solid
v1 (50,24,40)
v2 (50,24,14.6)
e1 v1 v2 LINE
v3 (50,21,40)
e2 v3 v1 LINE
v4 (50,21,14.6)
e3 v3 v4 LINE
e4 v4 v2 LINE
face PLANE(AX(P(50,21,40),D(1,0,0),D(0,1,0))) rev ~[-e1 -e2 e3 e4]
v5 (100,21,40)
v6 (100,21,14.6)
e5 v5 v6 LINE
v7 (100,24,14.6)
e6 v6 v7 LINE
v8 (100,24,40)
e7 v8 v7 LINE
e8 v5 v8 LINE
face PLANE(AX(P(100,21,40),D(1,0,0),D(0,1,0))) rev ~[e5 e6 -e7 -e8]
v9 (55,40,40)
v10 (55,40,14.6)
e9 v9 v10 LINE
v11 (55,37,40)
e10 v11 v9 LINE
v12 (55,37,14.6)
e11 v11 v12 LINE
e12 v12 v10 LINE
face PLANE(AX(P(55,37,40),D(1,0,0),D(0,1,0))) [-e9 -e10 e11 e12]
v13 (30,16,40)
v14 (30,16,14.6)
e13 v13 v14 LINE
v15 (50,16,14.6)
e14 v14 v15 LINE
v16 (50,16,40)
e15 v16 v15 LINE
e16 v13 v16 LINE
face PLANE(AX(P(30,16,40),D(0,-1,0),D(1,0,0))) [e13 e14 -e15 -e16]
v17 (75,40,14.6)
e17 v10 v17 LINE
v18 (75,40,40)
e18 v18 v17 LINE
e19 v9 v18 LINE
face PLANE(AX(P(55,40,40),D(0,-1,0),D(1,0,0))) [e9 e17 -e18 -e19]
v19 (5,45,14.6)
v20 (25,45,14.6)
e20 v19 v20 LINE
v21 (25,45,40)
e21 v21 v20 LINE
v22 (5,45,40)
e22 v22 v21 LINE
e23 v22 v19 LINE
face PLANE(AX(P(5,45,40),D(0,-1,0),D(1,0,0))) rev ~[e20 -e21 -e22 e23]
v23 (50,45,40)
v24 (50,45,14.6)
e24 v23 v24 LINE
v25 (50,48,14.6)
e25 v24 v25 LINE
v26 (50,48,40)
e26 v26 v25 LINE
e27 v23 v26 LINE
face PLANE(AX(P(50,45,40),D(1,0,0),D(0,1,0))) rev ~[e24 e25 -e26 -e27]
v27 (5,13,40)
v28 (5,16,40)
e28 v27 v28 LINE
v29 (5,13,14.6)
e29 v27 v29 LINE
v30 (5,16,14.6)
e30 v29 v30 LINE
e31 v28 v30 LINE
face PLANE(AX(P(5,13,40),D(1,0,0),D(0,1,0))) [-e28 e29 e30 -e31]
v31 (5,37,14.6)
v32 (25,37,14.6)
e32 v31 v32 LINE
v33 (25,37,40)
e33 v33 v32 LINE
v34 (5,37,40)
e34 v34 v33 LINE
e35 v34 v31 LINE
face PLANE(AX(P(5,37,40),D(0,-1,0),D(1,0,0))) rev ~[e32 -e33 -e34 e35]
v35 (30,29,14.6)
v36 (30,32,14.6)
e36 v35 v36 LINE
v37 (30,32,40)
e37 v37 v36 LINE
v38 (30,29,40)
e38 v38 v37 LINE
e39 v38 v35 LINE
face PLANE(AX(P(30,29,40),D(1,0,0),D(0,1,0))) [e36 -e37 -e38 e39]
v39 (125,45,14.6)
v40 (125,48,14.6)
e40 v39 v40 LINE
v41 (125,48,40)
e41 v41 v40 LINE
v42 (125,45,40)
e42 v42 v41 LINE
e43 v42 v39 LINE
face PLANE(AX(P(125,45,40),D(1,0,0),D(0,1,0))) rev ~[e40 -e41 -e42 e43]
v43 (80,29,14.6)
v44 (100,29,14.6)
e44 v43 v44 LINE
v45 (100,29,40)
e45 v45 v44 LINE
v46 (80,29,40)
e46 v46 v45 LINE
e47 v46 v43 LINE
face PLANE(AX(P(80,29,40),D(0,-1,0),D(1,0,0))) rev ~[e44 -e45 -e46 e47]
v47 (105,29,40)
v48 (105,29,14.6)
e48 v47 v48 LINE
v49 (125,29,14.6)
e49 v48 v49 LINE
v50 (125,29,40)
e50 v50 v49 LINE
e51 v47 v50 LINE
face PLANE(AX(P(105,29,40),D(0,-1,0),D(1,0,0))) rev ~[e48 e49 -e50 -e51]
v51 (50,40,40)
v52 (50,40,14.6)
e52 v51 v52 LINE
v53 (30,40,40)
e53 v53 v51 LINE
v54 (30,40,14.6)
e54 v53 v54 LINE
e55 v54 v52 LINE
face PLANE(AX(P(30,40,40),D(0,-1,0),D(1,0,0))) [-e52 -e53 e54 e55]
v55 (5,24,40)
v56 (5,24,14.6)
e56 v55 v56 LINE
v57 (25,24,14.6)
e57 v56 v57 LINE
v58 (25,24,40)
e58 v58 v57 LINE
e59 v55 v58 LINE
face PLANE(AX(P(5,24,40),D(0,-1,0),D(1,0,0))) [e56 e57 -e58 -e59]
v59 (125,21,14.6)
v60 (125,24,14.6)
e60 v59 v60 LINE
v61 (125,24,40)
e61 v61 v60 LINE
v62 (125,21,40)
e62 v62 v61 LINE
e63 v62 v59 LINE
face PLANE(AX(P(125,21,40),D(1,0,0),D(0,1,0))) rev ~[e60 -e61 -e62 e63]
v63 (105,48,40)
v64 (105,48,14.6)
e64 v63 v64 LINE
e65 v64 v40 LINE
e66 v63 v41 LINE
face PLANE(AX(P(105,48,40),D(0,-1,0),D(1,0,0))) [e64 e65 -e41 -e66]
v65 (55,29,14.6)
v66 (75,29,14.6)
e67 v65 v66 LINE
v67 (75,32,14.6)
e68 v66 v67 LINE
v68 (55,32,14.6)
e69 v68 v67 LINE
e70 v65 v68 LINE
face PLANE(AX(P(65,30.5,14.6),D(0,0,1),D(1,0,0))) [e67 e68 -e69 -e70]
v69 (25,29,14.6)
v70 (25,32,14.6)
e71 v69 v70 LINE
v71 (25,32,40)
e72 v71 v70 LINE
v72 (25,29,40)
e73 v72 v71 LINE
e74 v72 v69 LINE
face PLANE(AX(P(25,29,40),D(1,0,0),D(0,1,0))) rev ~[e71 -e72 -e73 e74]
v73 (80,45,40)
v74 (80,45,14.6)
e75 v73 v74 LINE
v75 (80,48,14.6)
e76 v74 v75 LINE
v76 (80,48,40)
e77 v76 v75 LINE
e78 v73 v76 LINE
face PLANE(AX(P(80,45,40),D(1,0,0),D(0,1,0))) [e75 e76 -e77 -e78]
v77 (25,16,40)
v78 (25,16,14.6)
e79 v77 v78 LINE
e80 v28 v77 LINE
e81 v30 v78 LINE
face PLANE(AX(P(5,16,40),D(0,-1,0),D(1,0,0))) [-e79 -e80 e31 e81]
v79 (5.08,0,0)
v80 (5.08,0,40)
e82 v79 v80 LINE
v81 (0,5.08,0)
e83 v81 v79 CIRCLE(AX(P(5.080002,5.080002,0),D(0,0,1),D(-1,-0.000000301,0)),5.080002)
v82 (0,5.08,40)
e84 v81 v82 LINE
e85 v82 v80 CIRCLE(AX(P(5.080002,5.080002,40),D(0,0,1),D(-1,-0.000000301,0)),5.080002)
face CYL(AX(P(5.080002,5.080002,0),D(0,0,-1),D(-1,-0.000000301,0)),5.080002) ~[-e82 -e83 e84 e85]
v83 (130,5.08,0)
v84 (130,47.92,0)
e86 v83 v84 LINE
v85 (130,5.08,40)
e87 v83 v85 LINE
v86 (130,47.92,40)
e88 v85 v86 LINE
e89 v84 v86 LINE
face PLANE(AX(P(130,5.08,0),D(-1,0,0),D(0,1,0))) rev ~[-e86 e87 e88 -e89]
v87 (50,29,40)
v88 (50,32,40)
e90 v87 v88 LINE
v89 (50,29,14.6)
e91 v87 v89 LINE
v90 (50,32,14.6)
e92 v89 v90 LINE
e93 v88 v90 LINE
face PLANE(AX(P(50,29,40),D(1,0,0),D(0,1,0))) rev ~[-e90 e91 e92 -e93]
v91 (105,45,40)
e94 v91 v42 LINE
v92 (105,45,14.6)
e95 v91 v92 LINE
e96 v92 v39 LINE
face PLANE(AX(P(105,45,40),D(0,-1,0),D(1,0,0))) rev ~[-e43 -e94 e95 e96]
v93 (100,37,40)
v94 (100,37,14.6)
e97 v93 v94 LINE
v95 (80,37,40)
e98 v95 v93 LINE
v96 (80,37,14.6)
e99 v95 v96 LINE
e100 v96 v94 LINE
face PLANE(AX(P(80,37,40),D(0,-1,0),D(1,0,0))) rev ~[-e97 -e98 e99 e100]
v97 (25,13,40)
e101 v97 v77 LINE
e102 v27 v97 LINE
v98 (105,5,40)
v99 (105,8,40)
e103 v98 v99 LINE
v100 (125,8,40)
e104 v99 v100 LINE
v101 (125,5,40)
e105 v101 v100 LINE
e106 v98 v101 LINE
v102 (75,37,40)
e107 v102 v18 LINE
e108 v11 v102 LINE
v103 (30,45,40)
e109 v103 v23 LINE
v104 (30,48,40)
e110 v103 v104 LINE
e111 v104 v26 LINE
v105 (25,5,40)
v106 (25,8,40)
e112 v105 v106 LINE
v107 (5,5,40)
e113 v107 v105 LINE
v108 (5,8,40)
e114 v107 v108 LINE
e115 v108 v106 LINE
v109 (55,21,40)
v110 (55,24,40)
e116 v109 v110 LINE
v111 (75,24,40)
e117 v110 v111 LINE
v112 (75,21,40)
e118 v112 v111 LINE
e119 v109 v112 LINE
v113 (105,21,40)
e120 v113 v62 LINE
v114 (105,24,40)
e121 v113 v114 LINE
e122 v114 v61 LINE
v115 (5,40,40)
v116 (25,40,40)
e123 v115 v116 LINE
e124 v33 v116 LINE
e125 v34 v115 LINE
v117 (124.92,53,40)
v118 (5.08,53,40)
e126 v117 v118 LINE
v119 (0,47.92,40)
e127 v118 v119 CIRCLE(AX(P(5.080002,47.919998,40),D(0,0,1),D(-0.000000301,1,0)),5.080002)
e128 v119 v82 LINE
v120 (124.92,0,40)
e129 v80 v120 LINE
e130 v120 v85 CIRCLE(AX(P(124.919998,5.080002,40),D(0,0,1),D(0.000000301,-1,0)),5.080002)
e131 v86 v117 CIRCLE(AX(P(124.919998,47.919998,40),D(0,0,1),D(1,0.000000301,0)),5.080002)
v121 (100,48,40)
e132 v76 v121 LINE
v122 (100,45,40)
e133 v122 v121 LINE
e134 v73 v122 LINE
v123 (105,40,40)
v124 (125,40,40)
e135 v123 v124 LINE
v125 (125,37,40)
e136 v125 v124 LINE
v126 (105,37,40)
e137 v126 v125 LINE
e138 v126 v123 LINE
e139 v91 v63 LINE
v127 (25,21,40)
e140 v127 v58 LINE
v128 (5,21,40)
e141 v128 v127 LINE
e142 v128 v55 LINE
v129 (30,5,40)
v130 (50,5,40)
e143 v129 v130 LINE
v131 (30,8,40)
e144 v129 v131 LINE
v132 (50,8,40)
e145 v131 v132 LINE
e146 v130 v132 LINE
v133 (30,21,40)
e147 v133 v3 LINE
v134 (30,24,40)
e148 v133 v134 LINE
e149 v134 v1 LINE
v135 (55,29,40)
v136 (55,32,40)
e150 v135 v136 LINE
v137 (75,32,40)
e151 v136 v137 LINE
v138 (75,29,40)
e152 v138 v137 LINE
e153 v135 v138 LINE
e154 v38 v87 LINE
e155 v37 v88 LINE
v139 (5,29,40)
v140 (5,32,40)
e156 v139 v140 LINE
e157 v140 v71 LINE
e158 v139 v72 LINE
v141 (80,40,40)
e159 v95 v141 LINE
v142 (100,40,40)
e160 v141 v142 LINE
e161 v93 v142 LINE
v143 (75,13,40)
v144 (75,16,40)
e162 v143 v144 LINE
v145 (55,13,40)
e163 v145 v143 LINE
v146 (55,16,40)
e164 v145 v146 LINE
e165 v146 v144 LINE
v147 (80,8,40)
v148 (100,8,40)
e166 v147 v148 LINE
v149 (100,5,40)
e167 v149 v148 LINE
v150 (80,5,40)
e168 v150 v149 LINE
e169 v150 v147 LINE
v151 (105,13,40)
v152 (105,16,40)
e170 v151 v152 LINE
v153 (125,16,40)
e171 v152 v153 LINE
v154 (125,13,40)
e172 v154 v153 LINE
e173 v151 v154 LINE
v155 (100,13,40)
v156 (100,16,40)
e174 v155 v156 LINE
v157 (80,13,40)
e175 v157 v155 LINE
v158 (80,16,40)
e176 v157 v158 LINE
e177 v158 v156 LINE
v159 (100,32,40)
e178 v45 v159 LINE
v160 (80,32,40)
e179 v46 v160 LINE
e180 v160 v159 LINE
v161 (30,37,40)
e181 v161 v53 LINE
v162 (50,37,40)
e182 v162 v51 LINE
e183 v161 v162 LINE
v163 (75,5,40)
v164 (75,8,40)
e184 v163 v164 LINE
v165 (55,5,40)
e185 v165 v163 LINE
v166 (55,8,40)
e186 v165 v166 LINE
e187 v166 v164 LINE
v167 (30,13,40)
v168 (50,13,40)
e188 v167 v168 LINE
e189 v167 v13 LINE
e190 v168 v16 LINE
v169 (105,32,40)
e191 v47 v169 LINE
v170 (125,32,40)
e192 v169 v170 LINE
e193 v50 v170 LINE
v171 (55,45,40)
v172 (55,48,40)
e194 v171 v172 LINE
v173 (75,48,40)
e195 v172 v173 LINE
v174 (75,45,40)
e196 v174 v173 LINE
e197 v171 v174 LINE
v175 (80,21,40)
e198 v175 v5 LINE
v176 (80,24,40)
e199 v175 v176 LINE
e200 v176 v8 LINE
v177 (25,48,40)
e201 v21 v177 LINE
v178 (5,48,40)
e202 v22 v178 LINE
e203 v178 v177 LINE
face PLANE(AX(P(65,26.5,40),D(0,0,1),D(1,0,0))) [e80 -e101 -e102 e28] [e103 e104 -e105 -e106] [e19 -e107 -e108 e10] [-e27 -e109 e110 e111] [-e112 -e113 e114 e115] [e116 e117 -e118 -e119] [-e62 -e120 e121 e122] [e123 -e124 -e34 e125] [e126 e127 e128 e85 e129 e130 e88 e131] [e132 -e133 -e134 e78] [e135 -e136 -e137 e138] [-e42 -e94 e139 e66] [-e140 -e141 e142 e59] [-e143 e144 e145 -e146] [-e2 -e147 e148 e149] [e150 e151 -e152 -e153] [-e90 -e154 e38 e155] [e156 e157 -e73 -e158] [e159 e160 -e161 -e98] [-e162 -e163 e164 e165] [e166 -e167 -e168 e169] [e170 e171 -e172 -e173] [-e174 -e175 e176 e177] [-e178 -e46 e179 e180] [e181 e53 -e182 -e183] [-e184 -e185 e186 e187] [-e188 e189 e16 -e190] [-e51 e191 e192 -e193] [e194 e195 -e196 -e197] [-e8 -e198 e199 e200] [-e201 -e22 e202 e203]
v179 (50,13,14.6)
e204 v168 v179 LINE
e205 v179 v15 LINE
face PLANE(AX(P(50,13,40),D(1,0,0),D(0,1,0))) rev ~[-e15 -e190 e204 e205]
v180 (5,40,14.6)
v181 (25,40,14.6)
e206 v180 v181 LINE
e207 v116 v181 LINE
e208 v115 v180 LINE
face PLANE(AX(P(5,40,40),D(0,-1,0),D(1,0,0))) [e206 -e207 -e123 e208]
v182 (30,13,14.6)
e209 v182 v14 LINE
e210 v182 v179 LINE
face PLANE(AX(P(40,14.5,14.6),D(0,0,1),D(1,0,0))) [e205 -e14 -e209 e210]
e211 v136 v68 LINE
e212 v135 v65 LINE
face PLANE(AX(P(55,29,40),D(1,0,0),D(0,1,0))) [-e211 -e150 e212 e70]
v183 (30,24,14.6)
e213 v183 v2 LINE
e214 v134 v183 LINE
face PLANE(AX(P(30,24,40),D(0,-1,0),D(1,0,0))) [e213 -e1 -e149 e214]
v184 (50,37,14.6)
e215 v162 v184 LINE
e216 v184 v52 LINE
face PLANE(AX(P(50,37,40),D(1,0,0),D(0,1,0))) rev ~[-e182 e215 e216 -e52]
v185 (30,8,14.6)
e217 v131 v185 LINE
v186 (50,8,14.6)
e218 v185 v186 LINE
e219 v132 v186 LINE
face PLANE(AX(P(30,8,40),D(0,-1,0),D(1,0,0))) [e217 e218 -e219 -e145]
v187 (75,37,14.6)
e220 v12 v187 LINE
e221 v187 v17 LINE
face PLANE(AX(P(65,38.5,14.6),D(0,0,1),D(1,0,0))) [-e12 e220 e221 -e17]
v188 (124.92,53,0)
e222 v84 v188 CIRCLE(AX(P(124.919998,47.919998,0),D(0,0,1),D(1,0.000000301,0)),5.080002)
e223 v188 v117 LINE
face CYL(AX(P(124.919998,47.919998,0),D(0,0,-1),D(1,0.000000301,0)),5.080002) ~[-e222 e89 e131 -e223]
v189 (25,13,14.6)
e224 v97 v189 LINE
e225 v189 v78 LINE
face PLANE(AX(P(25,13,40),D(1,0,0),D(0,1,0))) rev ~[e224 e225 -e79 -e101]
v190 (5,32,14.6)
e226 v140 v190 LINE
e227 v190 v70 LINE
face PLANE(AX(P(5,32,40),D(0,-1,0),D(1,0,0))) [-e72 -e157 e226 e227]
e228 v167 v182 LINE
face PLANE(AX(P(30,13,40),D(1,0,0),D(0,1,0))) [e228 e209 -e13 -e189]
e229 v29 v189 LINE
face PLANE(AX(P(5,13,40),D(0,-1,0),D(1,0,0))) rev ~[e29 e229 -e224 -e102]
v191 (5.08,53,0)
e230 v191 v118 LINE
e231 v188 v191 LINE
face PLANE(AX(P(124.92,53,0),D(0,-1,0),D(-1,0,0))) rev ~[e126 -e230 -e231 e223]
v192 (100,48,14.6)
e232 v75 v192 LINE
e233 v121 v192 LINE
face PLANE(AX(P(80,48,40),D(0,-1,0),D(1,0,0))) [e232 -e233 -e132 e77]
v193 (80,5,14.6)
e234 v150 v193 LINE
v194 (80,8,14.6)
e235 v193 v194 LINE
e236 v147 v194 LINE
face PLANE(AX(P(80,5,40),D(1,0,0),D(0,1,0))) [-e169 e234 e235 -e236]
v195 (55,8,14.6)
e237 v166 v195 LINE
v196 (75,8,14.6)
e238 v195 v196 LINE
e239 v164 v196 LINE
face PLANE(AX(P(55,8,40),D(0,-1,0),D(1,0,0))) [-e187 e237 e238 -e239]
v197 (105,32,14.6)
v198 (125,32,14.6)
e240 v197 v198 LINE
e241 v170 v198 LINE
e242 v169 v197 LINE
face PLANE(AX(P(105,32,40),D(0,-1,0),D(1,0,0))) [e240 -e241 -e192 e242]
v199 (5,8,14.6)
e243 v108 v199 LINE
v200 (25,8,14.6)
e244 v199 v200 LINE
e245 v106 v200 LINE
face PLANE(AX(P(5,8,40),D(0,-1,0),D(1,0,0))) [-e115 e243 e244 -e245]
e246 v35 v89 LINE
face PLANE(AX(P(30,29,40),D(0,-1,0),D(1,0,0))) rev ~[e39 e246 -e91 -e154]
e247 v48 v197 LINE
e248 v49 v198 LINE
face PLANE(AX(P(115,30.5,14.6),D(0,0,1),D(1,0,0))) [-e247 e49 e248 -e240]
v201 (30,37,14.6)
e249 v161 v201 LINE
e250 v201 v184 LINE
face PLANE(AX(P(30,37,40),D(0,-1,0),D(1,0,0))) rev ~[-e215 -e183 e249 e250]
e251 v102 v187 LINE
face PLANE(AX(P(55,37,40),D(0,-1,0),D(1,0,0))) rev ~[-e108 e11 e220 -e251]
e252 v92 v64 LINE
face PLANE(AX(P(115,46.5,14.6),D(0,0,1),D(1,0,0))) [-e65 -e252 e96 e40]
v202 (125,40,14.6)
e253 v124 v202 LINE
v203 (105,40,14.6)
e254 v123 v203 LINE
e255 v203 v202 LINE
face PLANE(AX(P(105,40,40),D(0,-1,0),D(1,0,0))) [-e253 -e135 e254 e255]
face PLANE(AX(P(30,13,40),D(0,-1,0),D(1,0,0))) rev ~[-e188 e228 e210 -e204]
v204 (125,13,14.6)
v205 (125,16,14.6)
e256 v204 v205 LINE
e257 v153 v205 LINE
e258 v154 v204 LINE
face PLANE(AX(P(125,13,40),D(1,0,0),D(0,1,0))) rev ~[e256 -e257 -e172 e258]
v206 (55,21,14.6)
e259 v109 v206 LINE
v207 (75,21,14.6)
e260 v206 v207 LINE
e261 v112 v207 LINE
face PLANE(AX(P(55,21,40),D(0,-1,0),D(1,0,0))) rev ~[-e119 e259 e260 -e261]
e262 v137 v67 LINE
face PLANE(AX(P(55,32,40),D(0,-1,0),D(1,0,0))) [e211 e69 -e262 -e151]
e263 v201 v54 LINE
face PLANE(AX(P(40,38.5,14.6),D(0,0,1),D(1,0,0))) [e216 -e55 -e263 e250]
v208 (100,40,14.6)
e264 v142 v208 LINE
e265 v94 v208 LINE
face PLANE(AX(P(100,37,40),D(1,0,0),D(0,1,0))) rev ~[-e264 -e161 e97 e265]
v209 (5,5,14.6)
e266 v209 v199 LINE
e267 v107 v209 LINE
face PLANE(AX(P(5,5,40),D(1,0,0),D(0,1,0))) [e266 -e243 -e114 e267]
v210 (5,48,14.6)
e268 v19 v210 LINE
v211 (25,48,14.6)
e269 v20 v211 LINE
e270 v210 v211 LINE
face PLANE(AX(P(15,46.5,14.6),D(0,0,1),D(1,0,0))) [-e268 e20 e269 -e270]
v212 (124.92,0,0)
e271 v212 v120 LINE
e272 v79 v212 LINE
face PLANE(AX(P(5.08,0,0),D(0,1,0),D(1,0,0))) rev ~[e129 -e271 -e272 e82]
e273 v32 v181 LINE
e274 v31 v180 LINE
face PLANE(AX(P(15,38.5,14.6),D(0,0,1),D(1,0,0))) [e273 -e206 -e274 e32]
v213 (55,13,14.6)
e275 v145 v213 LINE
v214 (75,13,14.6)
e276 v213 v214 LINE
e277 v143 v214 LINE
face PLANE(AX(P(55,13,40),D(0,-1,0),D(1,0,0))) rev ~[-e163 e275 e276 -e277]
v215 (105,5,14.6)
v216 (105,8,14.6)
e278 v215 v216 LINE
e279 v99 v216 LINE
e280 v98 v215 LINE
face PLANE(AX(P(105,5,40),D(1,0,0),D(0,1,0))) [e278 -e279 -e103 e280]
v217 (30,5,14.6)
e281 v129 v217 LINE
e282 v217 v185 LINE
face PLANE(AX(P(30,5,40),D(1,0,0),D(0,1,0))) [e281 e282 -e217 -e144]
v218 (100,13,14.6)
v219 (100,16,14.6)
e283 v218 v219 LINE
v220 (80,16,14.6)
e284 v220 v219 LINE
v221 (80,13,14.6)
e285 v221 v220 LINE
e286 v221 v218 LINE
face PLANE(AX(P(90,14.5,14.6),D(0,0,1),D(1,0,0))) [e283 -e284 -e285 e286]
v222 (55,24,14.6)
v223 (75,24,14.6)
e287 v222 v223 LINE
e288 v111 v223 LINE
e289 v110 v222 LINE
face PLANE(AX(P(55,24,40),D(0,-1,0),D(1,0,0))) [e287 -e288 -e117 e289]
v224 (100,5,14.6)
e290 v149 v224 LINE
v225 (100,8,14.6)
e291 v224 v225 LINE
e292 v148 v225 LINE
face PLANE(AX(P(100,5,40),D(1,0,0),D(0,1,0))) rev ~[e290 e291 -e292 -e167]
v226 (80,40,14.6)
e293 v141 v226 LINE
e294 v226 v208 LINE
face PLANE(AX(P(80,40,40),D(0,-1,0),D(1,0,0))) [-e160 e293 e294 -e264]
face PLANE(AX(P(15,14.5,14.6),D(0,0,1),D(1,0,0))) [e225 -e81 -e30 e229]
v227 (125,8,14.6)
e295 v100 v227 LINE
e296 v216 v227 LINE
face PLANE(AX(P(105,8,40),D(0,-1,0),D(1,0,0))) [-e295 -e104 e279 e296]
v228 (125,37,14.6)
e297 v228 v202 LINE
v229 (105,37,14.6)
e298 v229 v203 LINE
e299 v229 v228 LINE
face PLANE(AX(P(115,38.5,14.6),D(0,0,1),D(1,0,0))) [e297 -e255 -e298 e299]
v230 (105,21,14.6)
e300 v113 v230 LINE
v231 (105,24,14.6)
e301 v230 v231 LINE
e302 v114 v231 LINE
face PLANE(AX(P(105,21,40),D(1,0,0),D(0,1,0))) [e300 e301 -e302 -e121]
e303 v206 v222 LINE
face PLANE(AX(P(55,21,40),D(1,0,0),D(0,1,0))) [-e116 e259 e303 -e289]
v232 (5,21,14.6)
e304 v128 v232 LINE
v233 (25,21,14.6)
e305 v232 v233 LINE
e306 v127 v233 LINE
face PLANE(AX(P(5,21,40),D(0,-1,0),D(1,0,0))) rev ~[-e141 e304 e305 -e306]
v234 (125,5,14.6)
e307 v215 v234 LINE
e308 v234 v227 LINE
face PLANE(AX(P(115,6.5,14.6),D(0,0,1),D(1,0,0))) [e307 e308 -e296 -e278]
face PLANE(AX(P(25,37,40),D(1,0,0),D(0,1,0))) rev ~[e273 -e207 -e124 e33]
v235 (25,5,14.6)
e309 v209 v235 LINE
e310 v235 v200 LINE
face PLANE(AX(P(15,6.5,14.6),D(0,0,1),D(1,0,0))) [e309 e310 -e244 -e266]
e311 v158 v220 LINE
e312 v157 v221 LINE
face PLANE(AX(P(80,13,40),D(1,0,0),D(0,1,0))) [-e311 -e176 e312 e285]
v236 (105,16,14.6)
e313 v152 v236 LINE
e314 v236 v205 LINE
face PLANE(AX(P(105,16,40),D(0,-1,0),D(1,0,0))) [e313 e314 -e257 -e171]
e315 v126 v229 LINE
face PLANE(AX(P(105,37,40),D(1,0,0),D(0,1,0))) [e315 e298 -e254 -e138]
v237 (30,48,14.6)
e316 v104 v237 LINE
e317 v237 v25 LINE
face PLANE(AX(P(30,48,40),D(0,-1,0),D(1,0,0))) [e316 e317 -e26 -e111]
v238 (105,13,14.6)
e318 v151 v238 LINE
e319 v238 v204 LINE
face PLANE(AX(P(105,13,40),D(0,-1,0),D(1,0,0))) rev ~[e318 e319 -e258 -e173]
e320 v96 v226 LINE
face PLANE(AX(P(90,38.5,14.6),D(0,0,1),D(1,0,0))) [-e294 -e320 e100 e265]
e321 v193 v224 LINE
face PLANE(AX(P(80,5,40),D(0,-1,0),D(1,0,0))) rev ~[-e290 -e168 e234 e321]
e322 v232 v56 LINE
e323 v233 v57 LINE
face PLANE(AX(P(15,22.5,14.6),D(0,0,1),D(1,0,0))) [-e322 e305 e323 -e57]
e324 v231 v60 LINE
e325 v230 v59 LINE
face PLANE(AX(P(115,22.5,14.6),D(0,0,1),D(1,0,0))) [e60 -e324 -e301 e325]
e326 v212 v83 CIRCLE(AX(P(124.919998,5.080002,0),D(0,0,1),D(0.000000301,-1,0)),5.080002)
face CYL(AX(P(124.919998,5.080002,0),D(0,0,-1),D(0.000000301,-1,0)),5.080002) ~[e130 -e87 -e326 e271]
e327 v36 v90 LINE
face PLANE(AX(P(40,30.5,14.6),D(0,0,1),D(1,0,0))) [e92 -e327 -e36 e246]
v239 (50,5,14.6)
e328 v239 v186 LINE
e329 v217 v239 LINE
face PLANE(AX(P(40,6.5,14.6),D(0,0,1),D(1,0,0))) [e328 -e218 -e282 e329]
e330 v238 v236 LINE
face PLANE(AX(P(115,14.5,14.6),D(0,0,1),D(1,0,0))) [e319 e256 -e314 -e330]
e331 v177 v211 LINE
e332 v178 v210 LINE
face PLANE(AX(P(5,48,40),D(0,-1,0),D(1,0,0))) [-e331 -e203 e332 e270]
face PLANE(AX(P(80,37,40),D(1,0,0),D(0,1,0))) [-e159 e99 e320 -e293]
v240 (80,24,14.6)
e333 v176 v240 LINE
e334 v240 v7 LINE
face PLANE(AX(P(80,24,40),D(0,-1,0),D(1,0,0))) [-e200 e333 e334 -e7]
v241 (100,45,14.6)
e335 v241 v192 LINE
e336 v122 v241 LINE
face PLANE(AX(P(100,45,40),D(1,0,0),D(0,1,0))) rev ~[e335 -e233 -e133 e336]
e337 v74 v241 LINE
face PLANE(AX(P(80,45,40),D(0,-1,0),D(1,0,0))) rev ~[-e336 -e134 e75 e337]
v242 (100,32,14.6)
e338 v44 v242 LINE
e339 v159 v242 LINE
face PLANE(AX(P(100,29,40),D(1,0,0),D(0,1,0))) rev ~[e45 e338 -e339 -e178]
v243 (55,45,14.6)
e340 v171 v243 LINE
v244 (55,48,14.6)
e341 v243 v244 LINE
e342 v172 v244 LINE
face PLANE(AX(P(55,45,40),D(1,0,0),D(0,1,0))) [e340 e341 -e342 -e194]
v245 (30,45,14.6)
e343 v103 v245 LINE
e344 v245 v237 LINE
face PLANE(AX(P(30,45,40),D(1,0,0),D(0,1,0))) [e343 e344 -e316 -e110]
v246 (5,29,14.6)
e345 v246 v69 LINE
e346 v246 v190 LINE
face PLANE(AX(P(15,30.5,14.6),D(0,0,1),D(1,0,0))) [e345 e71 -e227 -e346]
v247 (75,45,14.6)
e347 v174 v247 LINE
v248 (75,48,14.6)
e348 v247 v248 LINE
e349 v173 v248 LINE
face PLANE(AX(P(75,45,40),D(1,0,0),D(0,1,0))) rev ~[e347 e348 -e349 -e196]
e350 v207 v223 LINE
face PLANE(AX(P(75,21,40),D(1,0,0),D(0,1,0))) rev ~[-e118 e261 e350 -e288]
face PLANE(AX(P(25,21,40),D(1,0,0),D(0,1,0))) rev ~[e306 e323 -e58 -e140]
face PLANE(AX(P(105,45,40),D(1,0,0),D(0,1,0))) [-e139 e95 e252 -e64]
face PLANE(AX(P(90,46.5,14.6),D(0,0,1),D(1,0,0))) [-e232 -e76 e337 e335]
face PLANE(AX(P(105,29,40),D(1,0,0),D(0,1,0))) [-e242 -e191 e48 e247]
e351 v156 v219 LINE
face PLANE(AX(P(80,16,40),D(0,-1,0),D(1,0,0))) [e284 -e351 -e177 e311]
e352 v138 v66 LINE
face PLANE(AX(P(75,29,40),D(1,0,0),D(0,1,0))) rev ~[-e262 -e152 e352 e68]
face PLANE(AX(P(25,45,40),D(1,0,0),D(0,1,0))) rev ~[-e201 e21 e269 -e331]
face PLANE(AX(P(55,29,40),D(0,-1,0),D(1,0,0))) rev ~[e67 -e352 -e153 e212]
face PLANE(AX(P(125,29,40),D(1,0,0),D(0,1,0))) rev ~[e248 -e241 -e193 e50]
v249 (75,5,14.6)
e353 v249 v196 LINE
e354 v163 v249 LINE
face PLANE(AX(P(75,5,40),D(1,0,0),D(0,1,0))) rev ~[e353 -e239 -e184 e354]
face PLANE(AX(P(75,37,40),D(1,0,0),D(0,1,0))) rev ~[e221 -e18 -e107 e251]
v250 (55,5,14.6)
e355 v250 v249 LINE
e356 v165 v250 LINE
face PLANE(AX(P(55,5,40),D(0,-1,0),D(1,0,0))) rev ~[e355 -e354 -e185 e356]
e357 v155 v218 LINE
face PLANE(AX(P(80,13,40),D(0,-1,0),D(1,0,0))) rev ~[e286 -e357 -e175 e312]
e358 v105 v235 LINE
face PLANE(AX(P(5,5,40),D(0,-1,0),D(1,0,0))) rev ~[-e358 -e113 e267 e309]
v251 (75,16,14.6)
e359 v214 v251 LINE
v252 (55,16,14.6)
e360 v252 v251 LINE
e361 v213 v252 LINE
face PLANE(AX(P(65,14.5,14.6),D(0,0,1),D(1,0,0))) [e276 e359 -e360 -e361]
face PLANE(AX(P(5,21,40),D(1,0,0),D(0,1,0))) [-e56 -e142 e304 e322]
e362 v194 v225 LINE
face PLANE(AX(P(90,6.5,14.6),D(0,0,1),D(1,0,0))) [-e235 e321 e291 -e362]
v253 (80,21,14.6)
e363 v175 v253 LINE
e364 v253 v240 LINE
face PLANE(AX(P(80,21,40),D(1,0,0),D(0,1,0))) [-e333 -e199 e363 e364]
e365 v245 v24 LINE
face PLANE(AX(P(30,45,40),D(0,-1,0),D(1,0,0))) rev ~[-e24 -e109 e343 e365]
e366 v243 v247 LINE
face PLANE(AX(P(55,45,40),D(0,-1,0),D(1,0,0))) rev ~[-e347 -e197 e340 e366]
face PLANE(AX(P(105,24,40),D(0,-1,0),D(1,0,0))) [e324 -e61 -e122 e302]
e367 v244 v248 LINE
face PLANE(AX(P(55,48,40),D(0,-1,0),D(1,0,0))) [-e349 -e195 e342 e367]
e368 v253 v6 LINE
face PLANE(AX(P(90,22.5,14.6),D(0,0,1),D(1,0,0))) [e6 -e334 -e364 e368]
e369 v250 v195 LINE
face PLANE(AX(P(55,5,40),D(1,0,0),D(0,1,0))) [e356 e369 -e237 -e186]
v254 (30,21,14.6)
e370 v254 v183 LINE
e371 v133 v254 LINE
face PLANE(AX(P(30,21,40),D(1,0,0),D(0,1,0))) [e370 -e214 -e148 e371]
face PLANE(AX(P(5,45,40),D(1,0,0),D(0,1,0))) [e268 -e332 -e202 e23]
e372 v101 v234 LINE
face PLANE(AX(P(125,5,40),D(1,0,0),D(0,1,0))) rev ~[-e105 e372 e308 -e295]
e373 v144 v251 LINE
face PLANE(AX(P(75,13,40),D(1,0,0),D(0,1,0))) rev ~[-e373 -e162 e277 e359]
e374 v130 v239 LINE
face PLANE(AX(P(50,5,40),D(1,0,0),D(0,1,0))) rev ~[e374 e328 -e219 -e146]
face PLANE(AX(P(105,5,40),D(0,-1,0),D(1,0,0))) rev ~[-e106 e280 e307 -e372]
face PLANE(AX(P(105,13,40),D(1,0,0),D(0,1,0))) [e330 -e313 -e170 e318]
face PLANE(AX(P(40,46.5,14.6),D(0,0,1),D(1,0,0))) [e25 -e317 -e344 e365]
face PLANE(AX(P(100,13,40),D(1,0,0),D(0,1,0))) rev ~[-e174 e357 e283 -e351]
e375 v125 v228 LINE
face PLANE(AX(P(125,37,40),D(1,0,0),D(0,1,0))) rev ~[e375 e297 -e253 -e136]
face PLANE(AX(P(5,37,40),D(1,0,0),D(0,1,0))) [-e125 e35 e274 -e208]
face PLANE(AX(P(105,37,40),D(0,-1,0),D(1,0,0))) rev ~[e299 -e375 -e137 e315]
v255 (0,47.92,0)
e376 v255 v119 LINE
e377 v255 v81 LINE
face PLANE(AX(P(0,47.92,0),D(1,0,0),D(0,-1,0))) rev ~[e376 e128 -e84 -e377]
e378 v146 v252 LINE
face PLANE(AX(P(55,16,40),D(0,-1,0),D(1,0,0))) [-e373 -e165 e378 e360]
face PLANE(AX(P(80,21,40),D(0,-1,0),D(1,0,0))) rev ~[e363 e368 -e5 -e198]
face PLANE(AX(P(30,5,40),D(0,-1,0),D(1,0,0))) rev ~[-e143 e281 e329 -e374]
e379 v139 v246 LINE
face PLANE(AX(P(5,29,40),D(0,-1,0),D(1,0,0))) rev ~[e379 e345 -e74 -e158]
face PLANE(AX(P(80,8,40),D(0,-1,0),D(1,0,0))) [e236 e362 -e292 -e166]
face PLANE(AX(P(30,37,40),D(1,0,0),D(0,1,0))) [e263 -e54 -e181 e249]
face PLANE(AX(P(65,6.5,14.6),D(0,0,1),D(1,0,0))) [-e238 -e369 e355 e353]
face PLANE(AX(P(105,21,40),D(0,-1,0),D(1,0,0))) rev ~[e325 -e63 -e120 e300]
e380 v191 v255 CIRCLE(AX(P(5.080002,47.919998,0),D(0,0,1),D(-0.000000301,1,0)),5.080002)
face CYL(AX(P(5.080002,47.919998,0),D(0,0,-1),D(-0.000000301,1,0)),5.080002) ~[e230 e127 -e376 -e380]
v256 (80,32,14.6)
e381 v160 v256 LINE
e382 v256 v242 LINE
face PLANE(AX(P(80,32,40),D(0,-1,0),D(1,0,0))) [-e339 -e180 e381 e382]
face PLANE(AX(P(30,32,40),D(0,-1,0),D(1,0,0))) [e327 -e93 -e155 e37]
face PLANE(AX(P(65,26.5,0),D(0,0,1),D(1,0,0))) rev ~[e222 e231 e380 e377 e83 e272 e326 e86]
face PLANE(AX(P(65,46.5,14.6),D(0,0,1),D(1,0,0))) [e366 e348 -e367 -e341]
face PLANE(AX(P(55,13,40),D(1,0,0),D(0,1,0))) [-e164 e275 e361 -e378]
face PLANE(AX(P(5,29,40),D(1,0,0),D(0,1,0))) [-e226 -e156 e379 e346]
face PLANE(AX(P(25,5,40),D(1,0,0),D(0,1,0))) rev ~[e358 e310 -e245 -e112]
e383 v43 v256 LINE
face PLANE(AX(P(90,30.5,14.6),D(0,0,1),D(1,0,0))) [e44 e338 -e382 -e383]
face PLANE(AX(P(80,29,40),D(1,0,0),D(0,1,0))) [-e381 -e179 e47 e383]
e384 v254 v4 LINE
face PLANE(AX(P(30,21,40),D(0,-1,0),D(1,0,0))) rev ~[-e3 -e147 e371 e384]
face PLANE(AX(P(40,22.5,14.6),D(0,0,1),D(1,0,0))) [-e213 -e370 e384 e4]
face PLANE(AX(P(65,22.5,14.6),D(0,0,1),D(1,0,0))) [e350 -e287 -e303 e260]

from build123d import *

# Parameters (mm, degrees)
F1_DEPTH = 40
F2_W     = 20
F2_H     = 3
F3_DEPTH = 25.4


with BuildPart() as f1:
    # F0 (on Top) → F1 (new body)
    with BuildSketch(Plane.XY):
        with BuildLine():
            ThreePointArc((0, 5.08), (1.487898, 1.487898), (5.08, 0))
            Line((5.08, 0), (124.92, 0))
            ThreePointArc((124.92, 0), (128.512102, 1.487898), (130, 5.08))
            Line((130, 5.08), (130, 47.92))
            ThreePointArc((130, 47.92), (128.512102, 51.512102), (124.92, 53))
            Line((124.92, 53), (5.08, 53))
            ThreePointArc((5.08, 53), (1.487898, 51.512102), (0, 47.92))
            Line((0, 47.92), (0, 5.08))
        make_face()
    extrude(amount=F1_DEPTH)

    # F2 (on face) → F3 (cut)
    with BuildSketch(Plane.XY.offset(40)):
        with Locations((15, 46.5)):
            Rectangle(F2_W, F2_H)
        with Locations((15, 38.5)):
            Rectangle(F2_W, F2_H)
        with Locations((15, 30.5)):
            Rectangle(F2_W, F2_H)
        with Locations((15, 22.5)):
            Rectangle(F2_W, F2_H)
        with Locations((15, 14.5)):
            Rectangle(F2_W, F2_H)
        with Locations((15, 6.5)):
            Rectangle(F2_W, F2_H)
        with Locations((40, 46.5)):
            Rectangle(F2_W, F2_H)
        with Locations((40, 38.5)):
            Rectangle(F2_W, F2_H)
        with Locations((40, 30.5)):
            Rectangle(F2_W, F2_H)
        with Locations((40, 22.5)):
            Rectangle(F2_W, F2_H)
        with Locations((40, 14.5)):
            Rectangle(F2_W, F2_H)
        with Locations((40, 6.5)):
            Rectangle(F2_W, F2_H)
        with Locations((65, 46.5)):
            Rectangle(F2_W, F2_H)
        with Locations((65, 38.5)):
            Rectangle(F2_W, F2_H)
        with Locations((65, 30.5)):
            Rectangle(F2_W, F2_H)
        with Locations((65, 22.5)):
            Rectangle(F2_W, F2_H)
        with Locations((65, 14.5)):
            Rectangle(F2_W, F2_H)
        with Locations((65, 6.5)):
            Rectangle(F2_W, F2_H)
        with Locations((90, 46.5)):
            Rectangle(F2_W, F2_H)
        with Locations((90, 38.5)):
            Rectangle(F2_W, F2_H)
        with Locations((90, 30.5)):
            Rectangle(F2_W, F2_H)
        with Locations((90, 22.5)):
            Rectangle(F2_W, F2_H)
        with Locations((90, 14.5)):
            Rectangle(F2_W, F2_H)
        with Locations((90, 6.5)):
            Rectangle(F2_W, F2_H)
        with Locations((115, 46.5)):
            Rectangle(F2_W, F2_H)
        with Locations((115, 38.5)):
            Rectangle(F2_W, F2_H)
        with Locations((115, 30.5)):
            Rectangle(F2_W, F2_H)
        with Locations((115, 22.5)):
            Rectangle(F2_W, F2_H)
        with Locations((115, 14.5)):
            Rectangle(F2_W, F2_H)
        with Locations((115, 6.5)):
            Rectangle(F2_W, F2_H)
    extrude(amount=-F3_DEPTH, mode=Mode.SUBTRACT)


solid = f1.part
